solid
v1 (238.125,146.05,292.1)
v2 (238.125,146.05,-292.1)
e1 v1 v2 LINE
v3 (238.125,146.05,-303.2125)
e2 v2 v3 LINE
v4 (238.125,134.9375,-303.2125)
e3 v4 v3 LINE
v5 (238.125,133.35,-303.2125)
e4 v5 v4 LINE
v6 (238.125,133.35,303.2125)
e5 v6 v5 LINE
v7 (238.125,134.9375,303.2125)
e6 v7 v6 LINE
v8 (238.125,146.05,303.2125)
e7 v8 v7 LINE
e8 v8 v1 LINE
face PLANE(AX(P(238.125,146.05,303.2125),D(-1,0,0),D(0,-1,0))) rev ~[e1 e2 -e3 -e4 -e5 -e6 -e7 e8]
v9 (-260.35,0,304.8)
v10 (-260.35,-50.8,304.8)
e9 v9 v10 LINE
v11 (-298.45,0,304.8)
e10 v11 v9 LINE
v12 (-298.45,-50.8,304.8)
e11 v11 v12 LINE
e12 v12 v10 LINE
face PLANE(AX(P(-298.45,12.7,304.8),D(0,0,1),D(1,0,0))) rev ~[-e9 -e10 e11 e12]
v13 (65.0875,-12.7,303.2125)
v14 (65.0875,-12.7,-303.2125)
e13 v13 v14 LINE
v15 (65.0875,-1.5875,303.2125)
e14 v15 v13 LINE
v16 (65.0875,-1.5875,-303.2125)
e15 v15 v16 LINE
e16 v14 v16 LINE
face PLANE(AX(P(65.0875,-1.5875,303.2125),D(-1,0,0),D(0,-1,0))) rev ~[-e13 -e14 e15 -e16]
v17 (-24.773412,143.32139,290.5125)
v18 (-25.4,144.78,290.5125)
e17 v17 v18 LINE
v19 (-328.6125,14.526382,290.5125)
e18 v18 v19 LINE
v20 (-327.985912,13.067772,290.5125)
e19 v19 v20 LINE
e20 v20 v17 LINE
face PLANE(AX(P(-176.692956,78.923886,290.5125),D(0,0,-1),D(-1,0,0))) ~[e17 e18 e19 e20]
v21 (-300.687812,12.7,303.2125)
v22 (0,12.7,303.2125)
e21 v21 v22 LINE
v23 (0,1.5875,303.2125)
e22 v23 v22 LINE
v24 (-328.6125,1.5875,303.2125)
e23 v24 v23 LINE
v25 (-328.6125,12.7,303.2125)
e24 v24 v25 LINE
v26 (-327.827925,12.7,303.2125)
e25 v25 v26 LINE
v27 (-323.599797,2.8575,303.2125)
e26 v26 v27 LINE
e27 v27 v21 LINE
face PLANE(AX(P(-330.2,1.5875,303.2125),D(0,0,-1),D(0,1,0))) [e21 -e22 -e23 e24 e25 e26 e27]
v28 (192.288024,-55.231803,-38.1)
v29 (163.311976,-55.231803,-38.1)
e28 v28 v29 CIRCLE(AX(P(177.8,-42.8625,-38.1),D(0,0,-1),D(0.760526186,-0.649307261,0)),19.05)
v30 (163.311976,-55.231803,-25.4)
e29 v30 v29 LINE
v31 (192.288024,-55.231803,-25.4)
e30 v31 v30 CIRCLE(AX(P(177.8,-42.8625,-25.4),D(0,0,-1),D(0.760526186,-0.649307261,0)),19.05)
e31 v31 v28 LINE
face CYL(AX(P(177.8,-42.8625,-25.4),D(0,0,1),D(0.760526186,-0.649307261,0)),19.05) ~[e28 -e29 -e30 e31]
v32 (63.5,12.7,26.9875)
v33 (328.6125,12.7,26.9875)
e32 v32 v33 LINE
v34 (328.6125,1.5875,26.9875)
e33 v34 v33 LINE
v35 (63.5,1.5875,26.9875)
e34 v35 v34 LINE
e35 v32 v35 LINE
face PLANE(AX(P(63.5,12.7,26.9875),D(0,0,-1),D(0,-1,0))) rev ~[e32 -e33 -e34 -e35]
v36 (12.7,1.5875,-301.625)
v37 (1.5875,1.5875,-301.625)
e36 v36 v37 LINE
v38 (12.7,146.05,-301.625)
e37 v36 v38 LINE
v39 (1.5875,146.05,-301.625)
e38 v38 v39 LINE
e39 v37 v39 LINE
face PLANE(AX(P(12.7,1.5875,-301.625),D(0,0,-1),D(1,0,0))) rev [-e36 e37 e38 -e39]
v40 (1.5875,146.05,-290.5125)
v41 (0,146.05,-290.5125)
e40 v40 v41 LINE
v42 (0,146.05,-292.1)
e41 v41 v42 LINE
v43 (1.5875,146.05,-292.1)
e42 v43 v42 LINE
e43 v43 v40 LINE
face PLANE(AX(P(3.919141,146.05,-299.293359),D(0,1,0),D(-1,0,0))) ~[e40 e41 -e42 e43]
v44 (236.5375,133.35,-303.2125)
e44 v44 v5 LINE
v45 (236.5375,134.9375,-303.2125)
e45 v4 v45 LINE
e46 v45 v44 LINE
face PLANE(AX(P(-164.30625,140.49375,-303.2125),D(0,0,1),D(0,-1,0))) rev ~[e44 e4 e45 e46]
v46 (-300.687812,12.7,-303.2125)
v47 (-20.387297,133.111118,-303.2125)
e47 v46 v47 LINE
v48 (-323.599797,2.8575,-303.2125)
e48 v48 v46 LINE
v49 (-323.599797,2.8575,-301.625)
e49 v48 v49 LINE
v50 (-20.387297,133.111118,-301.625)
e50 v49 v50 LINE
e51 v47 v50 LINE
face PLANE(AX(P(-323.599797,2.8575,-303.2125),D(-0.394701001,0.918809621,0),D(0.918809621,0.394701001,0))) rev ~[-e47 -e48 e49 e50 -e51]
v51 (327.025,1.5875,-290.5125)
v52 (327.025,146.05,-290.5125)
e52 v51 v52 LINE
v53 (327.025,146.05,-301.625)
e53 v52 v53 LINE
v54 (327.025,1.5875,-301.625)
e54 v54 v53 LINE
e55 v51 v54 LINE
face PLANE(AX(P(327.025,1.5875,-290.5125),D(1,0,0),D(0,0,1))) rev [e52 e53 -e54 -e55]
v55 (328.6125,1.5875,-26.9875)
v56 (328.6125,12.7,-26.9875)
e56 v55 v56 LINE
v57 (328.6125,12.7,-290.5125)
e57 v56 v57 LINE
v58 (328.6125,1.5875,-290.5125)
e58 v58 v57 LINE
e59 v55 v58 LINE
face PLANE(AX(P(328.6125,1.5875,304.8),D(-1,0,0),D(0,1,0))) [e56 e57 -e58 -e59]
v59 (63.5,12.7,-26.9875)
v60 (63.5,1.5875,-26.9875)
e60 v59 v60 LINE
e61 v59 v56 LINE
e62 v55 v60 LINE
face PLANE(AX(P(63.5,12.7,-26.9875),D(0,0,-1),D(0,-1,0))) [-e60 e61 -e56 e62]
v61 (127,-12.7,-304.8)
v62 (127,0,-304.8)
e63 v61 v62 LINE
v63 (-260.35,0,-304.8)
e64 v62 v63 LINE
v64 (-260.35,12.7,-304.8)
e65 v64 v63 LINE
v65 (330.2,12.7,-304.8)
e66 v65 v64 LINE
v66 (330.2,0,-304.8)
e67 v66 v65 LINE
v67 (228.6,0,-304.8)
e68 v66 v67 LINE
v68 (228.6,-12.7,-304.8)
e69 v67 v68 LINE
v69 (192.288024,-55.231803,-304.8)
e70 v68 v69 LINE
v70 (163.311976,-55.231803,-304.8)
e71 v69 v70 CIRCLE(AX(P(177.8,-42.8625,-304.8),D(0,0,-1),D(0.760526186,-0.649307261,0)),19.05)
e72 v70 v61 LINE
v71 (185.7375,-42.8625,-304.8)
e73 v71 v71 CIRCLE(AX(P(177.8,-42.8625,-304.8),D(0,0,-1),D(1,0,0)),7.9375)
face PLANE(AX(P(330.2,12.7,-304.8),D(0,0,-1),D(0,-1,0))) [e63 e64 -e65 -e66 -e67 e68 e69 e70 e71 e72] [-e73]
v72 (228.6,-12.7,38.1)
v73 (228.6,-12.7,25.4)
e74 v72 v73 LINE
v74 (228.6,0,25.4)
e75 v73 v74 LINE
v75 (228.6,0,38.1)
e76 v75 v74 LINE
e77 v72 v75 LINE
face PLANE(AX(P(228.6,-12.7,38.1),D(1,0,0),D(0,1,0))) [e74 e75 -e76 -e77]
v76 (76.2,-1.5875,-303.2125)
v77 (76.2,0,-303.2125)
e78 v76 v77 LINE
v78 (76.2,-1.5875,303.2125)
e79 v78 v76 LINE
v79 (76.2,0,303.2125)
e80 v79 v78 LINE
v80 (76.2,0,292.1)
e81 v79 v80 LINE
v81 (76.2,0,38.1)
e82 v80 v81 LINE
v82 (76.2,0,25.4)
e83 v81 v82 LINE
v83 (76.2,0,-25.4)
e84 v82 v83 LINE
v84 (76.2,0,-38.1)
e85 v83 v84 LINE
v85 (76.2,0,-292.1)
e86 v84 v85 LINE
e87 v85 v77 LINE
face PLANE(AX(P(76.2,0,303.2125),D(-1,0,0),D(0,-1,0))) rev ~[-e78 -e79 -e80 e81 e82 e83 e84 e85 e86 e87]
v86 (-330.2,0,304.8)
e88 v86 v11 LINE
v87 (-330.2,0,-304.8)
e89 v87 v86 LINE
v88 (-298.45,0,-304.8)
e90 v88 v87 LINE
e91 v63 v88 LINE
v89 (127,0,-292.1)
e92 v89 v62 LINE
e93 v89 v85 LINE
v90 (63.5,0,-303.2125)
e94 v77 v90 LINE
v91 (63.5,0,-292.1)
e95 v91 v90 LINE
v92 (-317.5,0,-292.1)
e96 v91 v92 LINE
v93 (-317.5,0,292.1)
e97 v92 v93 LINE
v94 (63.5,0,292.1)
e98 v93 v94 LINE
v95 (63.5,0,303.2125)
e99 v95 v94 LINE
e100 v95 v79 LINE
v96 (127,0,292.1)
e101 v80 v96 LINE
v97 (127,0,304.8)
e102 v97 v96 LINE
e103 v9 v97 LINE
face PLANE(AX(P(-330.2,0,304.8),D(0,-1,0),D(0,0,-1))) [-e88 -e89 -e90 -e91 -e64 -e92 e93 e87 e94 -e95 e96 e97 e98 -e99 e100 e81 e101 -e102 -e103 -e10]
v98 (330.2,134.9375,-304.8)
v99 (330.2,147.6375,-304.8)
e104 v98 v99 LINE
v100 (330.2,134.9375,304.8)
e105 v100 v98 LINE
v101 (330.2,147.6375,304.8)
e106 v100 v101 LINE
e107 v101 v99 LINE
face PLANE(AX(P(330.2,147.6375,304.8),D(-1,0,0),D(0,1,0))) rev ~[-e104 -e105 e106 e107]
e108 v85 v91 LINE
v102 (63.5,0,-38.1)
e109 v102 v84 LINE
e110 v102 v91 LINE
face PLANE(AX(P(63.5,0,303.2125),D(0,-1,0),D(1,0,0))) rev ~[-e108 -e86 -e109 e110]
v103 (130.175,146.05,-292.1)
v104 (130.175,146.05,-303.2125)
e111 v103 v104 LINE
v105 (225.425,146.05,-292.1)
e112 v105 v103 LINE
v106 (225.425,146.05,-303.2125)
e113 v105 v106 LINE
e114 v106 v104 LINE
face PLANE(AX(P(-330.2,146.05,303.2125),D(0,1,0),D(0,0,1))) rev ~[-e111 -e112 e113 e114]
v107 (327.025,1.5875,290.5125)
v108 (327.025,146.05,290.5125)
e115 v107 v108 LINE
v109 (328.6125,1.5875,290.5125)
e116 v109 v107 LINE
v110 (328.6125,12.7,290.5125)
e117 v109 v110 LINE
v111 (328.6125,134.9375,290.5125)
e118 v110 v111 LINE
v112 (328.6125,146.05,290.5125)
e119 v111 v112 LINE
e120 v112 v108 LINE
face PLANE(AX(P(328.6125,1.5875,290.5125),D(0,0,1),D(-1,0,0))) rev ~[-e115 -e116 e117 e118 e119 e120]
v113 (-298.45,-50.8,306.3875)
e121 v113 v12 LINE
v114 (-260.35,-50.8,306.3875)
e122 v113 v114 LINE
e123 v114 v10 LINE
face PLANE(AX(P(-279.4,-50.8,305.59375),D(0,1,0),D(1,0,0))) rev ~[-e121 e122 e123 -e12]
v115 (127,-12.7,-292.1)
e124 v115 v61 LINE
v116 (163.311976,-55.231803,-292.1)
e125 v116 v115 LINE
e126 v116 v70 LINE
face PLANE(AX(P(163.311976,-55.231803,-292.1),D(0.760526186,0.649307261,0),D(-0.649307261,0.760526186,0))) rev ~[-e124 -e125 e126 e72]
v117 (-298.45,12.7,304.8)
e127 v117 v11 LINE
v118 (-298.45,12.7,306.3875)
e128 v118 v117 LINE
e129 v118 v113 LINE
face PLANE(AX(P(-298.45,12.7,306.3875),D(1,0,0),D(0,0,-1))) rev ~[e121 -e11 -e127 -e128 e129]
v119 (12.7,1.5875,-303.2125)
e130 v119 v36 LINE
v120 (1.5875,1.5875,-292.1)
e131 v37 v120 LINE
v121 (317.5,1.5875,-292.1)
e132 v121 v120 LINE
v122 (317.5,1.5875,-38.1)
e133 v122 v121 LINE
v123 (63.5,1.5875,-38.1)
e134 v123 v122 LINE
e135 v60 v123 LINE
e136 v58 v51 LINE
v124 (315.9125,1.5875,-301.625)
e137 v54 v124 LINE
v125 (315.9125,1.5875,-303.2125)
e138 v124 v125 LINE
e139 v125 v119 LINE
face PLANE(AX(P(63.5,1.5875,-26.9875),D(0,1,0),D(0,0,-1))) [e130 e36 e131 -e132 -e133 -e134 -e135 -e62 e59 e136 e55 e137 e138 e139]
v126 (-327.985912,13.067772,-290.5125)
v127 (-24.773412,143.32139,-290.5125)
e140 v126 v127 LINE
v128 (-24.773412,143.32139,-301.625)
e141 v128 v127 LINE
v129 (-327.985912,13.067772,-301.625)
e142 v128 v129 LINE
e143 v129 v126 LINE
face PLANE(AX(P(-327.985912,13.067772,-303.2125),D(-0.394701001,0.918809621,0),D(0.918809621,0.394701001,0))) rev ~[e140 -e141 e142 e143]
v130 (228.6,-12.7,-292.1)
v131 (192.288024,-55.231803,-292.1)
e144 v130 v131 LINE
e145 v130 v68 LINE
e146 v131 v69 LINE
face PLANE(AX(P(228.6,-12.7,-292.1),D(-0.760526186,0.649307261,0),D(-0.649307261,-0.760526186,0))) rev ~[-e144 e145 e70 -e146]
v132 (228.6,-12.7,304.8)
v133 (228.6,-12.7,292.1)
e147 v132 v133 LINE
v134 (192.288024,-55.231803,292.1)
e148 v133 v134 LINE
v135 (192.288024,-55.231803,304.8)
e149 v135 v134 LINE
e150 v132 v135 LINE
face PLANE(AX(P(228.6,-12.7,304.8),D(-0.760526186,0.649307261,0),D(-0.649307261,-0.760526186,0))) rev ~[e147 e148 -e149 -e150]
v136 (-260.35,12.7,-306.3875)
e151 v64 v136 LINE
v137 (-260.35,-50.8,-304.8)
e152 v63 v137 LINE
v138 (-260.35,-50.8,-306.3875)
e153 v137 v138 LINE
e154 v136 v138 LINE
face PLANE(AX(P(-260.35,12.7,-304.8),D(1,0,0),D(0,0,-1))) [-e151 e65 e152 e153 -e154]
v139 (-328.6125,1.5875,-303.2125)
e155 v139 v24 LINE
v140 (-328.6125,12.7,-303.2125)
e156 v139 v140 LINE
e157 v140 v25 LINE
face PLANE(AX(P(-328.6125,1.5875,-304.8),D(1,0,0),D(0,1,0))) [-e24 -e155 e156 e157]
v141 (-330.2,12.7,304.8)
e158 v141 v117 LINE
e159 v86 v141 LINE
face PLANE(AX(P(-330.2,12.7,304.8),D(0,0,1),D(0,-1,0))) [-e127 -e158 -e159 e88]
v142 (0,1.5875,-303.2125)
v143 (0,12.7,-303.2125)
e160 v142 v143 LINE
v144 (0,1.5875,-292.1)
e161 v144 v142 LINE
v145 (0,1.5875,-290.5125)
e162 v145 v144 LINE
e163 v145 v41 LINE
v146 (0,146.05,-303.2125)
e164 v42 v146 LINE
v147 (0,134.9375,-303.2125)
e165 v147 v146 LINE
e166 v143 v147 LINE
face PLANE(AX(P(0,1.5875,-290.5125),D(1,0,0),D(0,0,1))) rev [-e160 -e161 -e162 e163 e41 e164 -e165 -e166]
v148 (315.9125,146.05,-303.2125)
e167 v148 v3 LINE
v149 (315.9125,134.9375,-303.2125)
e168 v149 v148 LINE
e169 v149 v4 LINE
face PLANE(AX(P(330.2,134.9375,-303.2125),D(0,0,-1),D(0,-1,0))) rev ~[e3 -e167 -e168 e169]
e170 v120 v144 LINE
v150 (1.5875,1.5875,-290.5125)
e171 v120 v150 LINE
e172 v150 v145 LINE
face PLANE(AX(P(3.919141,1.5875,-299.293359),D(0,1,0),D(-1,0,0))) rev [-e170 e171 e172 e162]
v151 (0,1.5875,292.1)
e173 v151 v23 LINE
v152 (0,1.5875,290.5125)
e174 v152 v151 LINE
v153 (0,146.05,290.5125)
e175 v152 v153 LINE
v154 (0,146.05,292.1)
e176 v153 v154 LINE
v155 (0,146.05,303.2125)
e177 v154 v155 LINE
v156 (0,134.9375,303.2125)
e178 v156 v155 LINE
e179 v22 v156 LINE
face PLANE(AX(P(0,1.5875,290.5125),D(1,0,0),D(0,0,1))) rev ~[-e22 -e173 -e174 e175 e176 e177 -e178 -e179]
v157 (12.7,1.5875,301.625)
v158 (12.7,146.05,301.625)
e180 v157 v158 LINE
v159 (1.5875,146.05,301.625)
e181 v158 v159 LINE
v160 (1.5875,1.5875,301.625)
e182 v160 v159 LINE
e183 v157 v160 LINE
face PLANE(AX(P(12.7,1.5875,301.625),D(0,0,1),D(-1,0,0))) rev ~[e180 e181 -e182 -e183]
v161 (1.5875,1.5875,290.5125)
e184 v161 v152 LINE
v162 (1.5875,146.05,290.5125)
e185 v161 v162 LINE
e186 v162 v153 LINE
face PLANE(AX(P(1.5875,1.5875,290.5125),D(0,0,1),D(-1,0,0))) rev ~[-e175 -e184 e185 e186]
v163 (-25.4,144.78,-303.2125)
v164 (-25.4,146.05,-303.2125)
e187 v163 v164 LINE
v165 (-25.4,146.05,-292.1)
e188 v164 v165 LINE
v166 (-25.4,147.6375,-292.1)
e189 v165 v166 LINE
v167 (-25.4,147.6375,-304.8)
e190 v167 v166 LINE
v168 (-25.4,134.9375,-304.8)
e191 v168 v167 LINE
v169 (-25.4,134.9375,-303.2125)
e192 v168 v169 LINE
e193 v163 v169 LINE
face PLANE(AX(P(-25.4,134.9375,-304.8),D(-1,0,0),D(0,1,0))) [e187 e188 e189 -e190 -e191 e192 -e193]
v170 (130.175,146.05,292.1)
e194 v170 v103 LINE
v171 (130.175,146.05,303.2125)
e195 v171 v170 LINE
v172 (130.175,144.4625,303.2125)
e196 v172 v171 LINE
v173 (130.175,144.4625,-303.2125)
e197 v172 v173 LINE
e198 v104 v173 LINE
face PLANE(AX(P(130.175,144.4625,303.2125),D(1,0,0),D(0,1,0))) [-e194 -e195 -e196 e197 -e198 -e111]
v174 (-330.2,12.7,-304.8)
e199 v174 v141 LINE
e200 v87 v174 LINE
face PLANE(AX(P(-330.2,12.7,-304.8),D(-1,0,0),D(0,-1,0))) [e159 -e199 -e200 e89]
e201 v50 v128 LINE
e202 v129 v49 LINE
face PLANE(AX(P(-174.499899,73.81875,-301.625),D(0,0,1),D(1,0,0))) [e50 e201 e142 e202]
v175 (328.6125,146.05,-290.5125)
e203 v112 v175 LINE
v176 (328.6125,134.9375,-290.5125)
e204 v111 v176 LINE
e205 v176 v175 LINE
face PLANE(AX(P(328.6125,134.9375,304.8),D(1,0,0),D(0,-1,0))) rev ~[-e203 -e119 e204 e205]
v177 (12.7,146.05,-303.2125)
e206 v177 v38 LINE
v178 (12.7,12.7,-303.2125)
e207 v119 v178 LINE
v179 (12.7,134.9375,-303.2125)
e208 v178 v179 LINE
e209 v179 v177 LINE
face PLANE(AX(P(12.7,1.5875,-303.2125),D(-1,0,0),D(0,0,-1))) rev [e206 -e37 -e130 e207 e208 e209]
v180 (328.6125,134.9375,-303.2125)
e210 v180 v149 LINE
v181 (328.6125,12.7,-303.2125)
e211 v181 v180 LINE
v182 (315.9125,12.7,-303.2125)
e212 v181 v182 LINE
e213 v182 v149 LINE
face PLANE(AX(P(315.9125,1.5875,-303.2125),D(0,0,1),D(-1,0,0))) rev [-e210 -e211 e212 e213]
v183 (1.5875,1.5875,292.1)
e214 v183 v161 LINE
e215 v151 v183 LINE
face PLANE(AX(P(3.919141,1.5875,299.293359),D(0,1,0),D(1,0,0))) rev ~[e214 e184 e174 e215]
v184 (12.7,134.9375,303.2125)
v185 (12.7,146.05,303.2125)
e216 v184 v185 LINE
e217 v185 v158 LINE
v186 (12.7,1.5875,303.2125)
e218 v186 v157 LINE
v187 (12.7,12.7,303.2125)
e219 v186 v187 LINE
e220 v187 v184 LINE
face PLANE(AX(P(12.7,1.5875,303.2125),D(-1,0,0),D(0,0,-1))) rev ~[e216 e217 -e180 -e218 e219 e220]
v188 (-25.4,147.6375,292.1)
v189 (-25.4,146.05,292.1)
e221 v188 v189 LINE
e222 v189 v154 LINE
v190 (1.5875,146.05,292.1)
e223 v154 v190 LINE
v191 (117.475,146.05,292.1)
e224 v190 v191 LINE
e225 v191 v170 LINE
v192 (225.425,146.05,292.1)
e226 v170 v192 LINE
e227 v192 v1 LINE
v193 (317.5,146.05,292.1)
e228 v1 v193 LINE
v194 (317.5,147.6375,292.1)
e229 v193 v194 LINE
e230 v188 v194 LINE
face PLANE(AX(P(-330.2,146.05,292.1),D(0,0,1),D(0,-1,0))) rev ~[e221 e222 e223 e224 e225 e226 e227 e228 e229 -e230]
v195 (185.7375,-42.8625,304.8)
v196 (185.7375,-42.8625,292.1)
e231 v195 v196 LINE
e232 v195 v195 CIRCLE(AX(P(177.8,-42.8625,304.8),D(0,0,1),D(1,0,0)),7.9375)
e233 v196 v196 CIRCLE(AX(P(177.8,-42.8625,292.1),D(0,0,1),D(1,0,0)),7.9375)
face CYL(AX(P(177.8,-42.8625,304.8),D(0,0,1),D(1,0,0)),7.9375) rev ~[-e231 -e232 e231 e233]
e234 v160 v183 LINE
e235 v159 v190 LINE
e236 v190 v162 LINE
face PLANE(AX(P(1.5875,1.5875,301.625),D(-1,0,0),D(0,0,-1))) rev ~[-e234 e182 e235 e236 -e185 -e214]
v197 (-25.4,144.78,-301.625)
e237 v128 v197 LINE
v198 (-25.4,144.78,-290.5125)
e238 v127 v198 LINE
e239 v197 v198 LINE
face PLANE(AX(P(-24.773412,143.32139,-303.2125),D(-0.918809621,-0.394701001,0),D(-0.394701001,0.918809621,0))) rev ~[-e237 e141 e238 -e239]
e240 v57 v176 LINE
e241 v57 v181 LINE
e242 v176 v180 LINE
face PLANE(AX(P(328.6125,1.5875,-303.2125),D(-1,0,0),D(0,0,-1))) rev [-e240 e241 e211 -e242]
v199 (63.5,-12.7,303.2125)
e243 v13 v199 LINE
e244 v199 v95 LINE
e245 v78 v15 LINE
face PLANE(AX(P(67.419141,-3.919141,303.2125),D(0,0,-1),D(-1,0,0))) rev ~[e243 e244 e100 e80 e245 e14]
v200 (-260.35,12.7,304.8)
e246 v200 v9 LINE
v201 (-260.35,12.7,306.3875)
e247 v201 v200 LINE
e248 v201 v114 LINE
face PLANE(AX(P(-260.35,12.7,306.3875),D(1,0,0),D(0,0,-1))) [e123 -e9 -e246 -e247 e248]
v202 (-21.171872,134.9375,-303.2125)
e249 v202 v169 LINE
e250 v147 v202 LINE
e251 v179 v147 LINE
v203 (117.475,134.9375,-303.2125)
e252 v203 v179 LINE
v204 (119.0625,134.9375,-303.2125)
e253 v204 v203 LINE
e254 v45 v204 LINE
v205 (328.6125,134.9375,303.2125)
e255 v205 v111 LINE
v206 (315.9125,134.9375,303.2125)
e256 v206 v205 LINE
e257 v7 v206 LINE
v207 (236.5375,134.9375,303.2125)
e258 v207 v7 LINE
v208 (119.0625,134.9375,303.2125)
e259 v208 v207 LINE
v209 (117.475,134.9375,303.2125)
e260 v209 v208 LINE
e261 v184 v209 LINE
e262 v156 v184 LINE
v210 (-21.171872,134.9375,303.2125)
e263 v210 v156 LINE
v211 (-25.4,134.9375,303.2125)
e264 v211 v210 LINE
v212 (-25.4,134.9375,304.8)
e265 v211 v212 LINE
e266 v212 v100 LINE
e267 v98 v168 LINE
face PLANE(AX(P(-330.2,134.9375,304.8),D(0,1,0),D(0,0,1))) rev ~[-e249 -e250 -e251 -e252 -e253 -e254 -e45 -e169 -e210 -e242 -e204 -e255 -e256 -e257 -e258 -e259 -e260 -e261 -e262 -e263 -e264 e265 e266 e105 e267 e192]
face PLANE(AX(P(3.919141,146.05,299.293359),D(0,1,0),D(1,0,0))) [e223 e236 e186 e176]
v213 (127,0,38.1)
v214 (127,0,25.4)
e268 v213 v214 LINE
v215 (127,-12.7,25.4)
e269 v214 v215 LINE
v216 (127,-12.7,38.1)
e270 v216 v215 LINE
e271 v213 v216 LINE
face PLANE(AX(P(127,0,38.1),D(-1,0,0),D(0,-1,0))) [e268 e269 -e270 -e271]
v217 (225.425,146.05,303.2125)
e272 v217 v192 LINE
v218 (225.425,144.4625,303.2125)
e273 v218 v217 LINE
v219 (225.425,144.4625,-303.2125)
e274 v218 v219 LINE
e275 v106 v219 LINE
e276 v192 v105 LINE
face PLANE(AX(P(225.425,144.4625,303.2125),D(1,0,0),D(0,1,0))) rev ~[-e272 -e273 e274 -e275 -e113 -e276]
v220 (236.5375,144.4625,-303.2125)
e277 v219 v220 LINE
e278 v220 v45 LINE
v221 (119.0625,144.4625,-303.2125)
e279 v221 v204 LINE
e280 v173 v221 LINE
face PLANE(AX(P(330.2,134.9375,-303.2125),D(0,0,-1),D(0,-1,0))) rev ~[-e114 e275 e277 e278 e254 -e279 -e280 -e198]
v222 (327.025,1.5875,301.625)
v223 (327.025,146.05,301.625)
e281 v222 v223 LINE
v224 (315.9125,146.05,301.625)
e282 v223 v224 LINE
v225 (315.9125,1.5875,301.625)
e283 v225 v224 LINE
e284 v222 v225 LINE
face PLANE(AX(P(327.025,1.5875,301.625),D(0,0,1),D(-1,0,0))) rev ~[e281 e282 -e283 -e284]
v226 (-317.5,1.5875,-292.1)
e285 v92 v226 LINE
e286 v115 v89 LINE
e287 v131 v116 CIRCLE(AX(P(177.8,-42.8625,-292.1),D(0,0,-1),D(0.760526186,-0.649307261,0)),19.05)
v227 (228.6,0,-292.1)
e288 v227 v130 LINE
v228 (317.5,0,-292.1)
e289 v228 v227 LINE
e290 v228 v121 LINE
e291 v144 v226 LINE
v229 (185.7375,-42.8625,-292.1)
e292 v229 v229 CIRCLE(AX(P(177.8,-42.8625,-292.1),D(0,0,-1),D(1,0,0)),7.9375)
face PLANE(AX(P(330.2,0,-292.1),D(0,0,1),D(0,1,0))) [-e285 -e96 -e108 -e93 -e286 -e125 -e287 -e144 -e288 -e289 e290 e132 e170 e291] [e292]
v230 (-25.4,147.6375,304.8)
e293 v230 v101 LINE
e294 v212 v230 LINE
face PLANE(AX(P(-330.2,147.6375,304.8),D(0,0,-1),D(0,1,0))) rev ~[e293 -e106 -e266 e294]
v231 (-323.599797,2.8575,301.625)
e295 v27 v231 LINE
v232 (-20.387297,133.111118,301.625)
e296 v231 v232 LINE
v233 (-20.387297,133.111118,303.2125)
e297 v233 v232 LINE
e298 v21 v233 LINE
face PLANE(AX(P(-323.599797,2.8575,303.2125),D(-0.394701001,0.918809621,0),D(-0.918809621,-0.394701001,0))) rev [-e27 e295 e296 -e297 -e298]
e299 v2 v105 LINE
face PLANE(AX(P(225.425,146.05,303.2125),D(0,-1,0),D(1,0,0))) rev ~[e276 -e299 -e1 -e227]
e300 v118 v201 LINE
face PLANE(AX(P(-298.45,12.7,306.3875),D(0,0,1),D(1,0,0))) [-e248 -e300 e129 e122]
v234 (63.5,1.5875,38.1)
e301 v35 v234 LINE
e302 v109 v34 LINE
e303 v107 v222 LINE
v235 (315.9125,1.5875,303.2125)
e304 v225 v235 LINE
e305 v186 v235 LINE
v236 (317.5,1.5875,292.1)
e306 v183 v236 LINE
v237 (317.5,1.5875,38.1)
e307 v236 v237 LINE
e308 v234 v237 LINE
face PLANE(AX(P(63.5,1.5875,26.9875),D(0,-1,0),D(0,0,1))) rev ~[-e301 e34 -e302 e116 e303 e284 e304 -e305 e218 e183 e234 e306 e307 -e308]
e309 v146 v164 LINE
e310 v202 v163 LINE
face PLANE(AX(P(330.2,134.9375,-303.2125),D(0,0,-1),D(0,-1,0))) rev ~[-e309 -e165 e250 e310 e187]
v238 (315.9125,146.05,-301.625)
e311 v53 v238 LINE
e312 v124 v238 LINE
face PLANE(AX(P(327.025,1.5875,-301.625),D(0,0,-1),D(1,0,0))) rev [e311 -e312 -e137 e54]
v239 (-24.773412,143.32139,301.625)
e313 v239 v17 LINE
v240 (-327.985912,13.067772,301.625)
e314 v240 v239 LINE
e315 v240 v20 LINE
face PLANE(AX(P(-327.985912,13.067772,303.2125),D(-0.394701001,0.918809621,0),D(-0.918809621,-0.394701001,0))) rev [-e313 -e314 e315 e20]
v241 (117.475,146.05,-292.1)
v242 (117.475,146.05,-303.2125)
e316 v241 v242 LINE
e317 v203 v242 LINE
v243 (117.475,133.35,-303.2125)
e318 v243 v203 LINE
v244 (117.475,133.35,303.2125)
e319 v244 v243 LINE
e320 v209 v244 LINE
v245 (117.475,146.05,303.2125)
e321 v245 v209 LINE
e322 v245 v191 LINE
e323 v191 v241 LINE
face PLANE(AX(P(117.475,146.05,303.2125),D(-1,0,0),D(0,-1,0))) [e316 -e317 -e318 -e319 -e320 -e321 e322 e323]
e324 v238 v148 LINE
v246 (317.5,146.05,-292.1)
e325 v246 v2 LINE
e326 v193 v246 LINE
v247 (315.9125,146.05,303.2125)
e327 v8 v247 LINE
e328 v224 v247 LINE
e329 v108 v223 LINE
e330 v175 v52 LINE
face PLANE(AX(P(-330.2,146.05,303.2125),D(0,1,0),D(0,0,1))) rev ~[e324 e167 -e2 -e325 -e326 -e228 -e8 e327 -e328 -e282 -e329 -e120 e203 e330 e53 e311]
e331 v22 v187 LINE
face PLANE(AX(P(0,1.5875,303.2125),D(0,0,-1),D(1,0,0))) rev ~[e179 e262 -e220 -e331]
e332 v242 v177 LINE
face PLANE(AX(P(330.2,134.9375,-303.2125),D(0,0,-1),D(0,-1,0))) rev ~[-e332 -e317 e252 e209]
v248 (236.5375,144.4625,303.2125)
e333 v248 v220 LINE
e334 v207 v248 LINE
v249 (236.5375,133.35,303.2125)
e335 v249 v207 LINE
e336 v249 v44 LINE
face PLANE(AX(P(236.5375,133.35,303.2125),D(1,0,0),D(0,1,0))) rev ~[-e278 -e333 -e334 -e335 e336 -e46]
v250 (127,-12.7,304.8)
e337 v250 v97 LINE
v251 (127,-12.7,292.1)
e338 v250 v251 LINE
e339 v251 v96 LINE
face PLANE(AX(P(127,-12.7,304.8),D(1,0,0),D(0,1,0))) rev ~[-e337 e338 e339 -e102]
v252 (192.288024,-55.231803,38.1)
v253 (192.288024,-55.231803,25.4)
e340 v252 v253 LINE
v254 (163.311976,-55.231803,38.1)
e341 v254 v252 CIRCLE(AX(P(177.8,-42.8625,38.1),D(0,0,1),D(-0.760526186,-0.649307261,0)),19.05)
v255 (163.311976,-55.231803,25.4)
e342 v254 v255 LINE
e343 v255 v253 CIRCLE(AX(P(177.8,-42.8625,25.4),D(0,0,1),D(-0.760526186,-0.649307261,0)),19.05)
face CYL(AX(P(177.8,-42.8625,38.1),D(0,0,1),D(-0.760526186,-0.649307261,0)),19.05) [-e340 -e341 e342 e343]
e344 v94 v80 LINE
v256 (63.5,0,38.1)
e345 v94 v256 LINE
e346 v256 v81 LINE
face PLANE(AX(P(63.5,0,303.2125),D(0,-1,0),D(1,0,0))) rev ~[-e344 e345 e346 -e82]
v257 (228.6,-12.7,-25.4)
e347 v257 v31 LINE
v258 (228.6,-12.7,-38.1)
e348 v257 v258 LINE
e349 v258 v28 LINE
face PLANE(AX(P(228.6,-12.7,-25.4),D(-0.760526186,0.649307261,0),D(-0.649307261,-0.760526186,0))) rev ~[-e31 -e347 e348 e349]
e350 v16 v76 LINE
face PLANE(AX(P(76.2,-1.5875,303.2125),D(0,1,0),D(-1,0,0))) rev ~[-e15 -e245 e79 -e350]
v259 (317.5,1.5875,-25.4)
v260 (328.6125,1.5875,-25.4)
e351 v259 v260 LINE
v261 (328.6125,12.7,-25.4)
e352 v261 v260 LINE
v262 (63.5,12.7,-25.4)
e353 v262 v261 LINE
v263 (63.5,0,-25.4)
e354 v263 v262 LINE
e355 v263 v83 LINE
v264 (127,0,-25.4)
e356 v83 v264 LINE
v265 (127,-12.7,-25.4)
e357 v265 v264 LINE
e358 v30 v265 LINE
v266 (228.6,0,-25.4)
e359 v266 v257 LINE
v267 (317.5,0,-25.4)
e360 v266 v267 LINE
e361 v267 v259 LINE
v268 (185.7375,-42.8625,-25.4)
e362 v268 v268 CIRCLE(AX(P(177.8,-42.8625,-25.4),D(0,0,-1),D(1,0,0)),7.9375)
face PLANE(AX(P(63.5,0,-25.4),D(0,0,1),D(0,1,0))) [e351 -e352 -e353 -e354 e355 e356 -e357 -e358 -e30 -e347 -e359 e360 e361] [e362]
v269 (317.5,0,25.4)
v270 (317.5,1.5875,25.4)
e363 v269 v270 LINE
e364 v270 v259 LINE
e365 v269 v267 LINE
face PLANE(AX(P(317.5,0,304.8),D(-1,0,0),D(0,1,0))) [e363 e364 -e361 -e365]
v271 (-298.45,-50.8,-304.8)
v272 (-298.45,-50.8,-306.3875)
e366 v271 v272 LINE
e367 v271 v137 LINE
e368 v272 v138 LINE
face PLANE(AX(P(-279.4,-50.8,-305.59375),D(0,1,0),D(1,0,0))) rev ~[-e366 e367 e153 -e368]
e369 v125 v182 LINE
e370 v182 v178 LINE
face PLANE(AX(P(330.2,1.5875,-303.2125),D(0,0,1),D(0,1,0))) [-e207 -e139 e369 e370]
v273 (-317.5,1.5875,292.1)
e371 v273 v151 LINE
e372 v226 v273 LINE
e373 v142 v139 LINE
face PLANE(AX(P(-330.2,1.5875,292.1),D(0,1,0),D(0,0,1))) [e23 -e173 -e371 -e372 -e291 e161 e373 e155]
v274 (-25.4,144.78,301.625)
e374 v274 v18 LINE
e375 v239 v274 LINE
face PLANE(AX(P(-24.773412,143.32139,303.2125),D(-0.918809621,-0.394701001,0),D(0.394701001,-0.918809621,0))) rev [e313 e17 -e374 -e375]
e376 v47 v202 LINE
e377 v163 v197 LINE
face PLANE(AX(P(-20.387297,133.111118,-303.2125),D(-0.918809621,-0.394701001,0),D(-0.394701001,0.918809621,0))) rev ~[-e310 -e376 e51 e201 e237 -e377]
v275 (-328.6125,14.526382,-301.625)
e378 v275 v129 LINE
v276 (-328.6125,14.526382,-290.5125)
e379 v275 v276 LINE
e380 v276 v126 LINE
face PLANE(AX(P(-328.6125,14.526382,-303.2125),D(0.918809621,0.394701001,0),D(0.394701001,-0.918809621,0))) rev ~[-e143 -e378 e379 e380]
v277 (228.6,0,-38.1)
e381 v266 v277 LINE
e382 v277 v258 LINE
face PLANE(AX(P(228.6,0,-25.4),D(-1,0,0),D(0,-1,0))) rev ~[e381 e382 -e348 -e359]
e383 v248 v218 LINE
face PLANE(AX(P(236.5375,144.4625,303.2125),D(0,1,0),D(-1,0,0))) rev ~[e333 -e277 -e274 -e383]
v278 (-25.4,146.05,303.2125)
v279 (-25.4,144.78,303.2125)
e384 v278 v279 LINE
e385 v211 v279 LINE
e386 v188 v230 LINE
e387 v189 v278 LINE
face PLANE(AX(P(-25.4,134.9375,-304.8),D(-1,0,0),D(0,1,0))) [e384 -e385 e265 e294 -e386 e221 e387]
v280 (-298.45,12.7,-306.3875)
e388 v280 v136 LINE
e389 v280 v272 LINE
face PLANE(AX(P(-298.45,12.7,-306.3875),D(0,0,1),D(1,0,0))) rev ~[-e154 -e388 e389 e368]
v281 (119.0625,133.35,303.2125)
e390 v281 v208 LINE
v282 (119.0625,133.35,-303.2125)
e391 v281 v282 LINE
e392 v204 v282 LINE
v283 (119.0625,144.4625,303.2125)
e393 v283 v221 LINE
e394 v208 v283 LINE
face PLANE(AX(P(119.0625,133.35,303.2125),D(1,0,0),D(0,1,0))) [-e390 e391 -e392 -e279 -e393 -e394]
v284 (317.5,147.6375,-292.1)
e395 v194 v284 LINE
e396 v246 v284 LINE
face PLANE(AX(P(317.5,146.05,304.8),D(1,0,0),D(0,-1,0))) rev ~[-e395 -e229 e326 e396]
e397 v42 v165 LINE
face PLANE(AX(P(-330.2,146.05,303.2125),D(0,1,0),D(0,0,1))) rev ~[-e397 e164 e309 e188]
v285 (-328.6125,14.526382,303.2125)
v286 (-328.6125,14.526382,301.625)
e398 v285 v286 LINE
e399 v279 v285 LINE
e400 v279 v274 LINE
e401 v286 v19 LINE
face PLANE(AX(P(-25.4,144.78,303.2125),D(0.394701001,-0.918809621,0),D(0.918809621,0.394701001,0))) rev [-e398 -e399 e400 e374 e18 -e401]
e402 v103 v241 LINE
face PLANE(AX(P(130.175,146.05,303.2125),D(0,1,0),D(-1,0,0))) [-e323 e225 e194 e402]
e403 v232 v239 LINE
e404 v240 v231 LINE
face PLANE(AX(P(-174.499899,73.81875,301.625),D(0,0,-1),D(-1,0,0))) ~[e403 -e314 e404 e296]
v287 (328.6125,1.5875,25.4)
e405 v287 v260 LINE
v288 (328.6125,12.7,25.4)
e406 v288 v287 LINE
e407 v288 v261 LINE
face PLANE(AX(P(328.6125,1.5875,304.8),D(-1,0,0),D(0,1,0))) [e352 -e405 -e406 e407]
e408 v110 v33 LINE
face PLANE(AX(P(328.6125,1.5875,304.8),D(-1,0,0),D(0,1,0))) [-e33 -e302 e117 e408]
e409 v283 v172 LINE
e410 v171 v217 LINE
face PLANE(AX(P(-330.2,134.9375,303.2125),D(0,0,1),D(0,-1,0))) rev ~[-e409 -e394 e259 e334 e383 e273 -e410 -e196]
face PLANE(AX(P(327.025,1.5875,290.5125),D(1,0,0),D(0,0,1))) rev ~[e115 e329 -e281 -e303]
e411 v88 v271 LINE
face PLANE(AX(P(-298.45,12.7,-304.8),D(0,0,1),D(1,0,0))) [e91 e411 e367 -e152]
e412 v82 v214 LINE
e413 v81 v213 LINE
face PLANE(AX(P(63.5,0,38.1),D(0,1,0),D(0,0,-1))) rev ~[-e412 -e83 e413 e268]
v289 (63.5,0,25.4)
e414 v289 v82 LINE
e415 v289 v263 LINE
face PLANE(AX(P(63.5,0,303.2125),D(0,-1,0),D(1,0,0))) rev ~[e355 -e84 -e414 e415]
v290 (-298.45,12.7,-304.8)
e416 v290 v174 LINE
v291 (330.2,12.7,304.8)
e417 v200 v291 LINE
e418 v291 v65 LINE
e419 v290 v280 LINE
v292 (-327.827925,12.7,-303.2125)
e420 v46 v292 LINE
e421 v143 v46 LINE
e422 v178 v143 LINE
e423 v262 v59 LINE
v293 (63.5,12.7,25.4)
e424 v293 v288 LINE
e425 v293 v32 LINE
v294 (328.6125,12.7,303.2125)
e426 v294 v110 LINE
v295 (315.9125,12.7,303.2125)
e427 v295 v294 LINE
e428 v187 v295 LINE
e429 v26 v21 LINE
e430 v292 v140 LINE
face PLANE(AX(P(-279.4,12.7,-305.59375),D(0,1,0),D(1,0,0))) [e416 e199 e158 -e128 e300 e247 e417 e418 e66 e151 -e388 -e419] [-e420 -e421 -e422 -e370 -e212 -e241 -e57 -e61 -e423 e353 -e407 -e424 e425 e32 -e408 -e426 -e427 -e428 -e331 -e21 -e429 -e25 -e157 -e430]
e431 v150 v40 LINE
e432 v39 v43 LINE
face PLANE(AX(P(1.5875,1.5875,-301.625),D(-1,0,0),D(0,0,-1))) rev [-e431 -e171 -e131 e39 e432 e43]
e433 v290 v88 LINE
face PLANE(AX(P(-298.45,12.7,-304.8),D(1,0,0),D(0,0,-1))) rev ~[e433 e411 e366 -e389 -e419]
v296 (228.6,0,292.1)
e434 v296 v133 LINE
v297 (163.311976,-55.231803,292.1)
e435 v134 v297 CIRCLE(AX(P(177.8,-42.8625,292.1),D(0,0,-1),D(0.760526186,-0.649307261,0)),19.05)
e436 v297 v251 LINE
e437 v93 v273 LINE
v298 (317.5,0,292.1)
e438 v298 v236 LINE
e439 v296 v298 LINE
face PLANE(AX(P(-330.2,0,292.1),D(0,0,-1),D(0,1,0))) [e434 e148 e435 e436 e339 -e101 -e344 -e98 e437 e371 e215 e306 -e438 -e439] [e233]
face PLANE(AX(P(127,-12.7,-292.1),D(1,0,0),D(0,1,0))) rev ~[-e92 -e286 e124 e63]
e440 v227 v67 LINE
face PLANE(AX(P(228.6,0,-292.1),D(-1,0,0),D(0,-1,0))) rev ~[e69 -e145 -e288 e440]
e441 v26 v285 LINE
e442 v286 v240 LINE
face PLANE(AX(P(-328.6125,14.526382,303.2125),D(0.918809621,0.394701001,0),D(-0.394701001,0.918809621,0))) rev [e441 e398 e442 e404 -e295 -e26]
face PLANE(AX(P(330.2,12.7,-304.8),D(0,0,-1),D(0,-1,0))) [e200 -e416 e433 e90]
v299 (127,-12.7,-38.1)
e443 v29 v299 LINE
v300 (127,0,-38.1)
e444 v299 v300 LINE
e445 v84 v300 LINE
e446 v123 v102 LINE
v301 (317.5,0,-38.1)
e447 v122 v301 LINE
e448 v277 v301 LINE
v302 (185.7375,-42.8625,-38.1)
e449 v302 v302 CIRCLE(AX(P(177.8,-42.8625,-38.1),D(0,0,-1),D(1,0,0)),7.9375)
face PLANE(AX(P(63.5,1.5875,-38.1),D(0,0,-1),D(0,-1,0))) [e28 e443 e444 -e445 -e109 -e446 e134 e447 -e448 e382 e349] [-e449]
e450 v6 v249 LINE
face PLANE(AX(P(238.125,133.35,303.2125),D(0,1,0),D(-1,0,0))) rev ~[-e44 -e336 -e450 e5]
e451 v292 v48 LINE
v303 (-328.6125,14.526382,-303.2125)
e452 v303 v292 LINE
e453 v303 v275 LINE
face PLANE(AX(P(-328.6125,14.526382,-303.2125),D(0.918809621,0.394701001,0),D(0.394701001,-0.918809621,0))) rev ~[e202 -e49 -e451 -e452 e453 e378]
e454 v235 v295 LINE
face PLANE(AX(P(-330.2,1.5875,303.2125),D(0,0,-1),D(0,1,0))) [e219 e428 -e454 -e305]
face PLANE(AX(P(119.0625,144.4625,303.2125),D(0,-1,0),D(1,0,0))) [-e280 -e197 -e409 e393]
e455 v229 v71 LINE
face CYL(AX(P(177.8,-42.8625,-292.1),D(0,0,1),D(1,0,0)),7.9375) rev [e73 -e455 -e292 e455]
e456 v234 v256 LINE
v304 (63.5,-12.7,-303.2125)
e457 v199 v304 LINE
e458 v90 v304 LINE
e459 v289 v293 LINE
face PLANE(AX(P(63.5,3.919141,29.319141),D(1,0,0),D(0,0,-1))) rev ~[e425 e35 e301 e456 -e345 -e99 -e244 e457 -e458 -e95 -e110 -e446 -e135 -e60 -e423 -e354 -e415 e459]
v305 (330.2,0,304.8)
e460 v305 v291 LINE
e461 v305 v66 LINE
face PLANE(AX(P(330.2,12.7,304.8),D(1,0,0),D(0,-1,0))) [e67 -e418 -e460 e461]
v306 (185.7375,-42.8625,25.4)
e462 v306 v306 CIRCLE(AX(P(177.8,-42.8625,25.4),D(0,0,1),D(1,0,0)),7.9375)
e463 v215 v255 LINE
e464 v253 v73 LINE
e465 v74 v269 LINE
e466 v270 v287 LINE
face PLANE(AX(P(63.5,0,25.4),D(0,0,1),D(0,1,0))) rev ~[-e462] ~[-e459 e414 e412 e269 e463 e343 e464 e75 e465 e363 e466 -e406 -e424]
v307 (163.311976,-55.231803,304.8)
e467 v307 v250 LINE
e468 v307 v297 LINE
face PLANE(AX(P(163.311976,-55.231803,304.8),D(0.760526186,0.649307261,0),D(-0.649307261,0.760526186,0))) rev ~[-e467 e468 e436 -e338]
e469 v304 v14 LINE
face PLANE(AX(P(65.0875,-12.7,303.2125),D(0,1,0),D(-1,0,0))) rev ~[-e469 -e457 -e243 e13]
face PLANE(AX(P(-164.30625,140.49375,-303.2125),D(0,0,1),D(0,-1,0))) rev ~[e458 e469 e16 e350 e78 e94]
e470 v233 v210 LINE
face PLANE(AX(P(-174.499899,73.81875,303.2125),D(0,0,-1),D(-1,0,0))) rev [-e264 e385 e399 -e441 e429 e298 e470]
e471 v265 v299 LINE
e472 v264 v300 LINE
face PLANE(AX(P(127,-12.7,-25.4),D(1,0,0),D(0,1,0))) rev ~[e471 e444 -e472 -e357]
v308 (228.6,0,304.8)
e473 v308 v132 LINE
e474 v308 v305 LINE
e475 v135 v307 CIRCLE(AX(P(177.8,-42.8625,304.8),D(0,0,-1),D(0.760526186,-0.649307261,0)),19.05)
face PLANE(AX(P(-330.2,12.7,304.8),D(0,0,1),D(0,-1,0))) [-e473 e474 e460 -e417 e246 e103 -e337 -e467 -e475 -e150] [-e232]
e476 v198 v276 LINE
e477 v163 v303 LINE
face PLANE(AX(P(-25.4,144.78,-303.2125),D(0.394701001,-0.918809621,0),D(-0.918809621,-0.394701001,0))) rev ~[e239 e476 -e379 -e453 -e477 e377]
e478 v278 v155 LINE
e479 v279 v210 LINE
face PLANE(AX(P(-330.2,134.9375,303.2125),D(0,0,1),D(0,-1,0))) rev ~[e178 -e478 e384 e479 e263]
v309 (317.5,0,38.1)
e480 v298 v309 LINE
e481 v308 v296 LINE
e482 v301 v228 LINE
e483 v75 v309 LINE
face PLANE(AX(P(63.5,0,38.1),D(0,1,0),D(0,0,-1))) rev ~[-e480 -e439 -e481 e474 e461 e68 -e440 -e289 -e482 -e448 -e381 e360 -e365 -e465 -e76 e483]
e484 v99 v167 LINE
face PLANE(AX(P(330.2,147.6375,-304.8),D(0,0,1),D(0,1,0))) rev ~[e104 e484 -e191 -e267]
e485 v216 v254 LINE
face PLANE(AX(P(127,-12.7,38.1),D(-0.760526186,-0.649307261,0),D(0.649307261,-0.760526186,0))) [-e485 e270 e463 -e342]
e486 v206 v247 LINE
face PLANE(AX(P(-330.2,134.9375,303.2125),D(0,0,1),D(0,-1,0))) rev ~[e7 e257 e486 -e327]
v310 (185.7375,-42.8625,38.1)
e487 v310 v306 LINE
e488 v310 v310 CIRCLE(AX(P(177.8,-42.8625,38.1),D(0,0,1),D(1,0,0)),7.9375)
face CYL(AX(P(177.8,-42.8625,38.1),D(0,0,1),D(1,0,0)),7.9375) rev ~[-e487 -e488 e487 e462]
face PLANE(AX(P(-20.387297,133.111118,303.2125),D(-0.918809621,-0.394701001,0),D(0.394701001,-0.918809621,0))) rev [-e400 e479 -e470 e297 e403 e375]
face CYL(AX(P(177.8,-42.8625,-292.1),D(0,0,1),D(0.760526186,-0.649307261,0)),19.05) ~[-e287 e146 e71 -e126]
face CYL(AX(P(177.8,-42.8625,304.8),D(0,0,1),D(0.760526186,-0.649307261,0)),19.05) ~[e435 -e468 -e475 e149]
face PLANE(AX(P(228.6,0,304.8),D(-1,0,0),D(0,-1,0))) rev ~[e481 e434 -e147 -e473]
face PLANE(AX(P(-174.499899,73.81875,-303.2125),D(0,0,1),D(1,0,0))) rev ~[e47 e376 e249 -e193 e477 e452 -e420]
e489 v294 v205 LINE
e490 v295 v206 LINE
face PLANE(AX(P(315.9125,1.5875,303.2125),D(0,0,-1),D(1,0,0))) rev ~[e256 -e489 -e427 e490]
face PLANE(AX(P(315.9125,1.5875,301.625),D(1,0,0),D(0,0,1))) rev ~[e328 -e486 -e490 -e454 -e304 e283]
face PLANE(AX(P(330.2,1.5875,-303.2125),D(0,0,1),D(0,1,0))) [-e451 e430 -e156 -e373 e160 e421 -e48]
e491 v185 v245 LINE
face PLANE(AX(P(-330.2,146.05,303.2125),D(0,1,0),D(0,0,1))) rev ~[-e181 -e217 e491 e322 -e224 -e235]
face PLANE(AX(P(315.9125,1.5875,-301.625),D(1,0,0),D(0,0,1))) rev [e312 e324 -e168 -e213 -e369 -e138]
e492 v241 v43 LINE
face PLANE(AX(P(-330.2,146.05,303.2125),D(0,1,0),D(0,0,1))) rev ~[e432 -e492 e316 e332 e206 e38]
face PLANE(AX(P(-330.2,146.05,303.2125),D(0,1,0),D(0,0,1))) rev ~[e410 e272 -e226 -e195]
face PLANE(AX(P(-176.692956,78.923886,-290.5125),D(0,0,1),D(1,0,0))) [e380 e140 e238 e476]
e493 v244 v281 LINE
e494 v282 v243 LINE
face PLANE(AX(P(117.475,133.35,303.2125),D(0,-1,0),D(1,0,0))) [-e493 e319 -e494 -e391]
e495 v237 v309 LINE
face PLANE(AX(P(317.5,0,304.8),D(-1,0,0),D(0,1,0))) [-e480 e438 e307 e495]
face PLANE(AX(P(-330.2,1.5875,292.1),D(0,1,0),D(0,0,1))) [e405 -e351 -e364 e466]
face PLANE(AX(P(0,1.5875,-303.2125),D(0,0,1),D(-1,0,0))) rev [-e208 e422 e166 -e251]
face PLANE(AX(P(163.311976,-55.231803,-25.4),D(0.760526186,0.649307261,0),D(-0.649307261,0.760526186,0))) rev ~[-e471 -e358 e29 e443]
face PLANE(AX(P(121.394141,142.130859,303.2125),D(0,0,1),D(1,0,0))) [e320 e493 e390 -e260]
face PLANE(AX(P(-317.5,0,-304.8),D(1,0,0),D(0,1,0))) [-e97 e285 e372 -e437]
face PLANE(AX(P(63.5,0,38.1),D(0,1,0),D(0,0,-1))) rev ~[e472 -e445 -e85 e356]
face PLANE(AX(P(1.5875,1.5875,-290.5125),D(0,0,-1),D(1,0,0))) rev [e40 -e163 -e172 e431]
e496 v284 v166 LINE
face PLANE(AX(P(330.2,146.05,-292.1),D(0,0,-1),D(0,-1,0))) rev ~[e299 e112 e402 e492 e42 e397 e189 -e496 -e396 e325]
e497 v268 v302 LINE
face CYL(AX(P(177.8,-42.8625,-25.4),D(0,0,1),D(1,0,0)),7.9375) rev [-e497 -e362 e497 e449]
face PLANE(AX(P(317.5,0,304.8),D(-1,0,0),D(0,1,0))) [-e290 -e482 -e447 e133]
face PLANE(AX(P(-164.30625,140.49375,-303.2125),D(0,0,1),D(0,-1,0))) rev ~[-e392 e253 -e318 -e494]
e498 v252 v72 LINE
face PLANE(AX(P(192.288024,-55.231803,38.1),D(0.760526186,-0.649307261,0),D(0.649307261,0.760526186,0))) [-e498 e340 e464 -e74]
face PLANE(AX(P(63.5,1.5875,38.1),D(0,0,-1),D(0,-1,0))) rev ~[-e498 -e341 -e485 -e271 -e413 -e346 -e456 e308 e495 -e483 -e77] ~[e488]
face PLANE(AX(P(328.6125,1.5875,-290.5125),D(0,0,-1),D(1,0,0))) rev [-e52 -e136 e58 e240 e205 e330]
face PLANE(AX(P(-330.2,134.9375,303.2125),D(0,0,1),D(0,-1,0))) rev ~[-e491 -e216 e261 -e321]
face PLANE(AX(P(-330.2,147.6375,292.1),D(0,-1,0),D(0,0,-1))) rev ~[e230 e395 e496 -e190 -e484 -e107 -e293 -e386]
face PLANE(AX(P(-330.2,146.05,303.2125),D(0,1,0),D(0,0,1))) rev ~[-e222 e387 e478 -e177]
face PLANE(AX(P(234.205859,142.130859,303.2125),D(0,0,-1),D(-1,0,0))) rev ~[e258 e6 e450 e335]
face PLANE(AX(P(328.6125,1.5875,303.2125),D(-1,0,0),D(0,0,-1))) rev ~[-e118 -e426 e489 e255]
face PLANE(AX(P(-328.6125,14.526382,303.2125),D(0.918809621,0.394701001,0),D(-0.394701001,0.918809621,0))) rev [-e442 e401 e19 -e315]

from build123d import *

# Parameters (mm, degrees)
BOSS_EXTRUDE4_DEPTH  = 144.4625
BOSS_EXTRUDE5_REACH  = 709.466
BOSS_EXTRUDE6_START  = 304.8
SKETCH8_R            = 7.9375
BOSS_EXTRUDE6_DEPTH  = 12.7
BOSS_EXTRUDE11_START = -12.7
SKETCH11_R           = 7.9375
BOSS_EXTRUDE11_DEPTH = 12.7
BOSS_EXTRUDE12_REACH = 521.326
BOSS_EXTRUDE15_START = -12.7
SKETCH13_R           = 7.9375
BOSS_EXTRUDE15_DEPTH = 12.7
SKETCH14_R           = 7.9375
BOSS_EXTRUDE16_DEPTH = 12.7
SKETCH15_W           = 38.1
SKETCH15_H           = 1.5875
BOSS_EXTRUDE17_DEPTH = 63.5
CUT_EXTRUDE1_REACH   = 712.196
SKETCH18_W           = 304.8
SKETCH18_H           = 12.7
BOSS_EXTRUDE21_DEPTH = 1.5875
BOSS_EXTRUDE23_DEPTH = 12.7


with BuildPart() as part:
    # Sweep1: sweep along a path in Sketch1
    with BuildLine(Plane(origin=(0, 0, 0), x_dir=(1, 0, 0), z_dir=(0, 1, 0))) as sweep1_path:
        Line((-330.2, -304.8), (330.2, -304.8))
        Line((330.2, -304.8), (330.2, 304.8))
        Line((330.2, 304.8), (-330.2, 304.8))
        Line((-330.2, 304.8), (-330.2, -304.8))
    # Sketch2 → Sweep1 (sweep)
    with BuildSketch(Plane(origin=(0, 0, 0), x_dir=(0, 0, -1), z_dir=(1, 0, 0))):
        Polygon((-304.8, 0), (-292.1, 0), (-292.1, 1.5875), (-303.2125, 1.5875), (-303.2125, 12.7), (-304.8, 12.7), align=None)
    sweep(path=sweep1_path.line, transition=Transition.RIGHT)



with BuildPart() as body_2:
    # Sweep2: sweep along a path in Sketch4
    with BuildLine(Plane(origin=(0, 147.6375, 0), x_dir=(1, 0, 0), z_dir=(0, 1, 0))) as sweep2_path:
        Line((-330.2, -304.8), (330.2, -304.8))
        Line((330.2, -304.8), (330.2, 304.8))
        Line((330.2, 304.8), (-330.2, 304.8))
        Line((-330.2, 304.8), (-330.2, -304.8))
    # Sketch5 → Sweep2 (sweep)
    with BuildSketch(Plane(origin=(0, 0, 0), x_dir=(0, 0, -1), z_dir=(1, 0, 0))):
        Polygon((304.8, 147.6375), (304.8, 134.9375), (303.2125, 134.9375), (303.2125, 146.05), (292.1, 146.05), (292.1, 147.6375), align=None)
    sweep(path=sweep2_path.line, transition=Transition.RIGHT)


with BuildPart() as part_1:
    add(part.part)

    add(body_2.part)  # Boss-Extrude4 merges body 2
    # Sketch6 → Boss-Extrude4 (add)
    with BuildSketch(Plane(origin=(0, 1.5875, 0), x_dir=(1, 0, 0), z_dir=(0, 1, 0))):
        Polygon((315.9125, -303.2125), (328.6125, -303.2125), (328.6125, -290.5125), (327.025, -290.5125), (327.025, -301.625), (315.9125, -301.625), align=None)
        Polygon((12.7, -303.2125), (12.7, -301.625), (1.5875, -301.625), (1.5875, -290.5125), (0, -290.5125), (0, -303.2125), align=None)
    boss_extrude4 = extrude(amount=BOSS_EXTRUDE4_DEPTH)

    # Mirror1: Boss-Extrude4 across plane
    add(boss_extrude4.mirror(Plane.XY))

    # Boss-Extrude5: up to this face of the body (flat: up to its plane)
    boss_extrude5_end = Plane(part_1.part.faces().sort_by_distance((-164.30625, 140.49375, -303.2125))[0])
    # Sketch7 → Boss-Extrude5 (add, up to the picked face)
    with BuildSketch(Plane(origin=(0, 0, 303.2125), x_dir=(-1, 0, 0), z_dir=(0, 0, -1)), mode=Mode.PRIVATE) as boss_extrude5_sk1:
        Polygon((-238.125, 146.05), (-238.125, 133.35), (-236.5375, 133.35), (-236.5375, 144.4625), (-225.425, 144.4625), (-225.425, 146.05), align=None)
    boss_extrude5_tool1 = split(extrude(boss_extrude5_sk1.sketch, amount=BOSS_EXTRUDE5_REACH, mode=Mode.PRIVATE), bisect_by=boss_extrude5_end, keep=Keep.BOTH, mode=Mode.PRIVATE)
    # Sketch7 → Boss-Extrude5 (add, up to the picked face)
    with BuildSketch(Plane(origin=(0, 0, 303.2125), x_dir=(-1, 0, 0), z_dir=(0, 0, -1)), mode=Mode.PRIVATE) as boss_extrude5_sk2:
        Polygon((-130.175, 146.05), (-117.475, 146.05), (-117.475, 133.35), (-119.0625, 133.35), (-119.0625, 144.4625), (-130.175, 144.4625), align=None)
    boss_extrude5_tool2 = split(extrude(boss_extrude5_sk2.sketch, amount=BOSS_EXTRUDE5_REACH, mode=Mode.PRIVATE), bisect_by=boss_extrude5_end, keep=Keep.BOTH, mode=Mode.PRIVATE)
    # Sketch7 → Boss-Extrude5 (add, up to the picked face)
    with BuildSketch(Plane(origin=(0, 0, 303.2125), x_dir=(-1, 0, 0), z_dir=(0, 0, -1)), mode=Mode.PRIVATE) as boss_extrude5_sk3:
        Polygon((-76.2, 0), (-76.2, -1.5875), (-65.0875, -1.5875), (-65.0875, -12.7), (-63.5, -12.7), (-63.5, 0), align=None)
    boss_extrude5_tool3 = split(extrude(boss_extrude5_sk3.sketch, amount=BOSS_EXTRUDE5_REACH, mode=Mode.PRIVATE), bisect_by=boss_extrude5_end, keep=Keep.BOTH, mode=Mode.PRIVATE)
    add(boss_extrude5_tool1.solids().sort_by(Axis((237.945395, 139.7, 303.2125), (0, 0, -1)))[0])
    add(boss_extrude5_tool2.solids().sort_by(Axis((123.825, 145.870395, 303.2125), (0, 0, -1)))[0])
    add(boss_extrude5_tool3.solids().sort_by(Axis((76.020395, -0.79375, 303.2125), (0, 0, -1)))[0])

    # Sketch8 → Boss-Extrude6 (add)
    with BuildSketch(Plane.XY.offset(BOSS_EXTRUDE6_START)):
        with BuildLine():
            Line((127, -12.7), (127, 0))
            Line((127, 0), (228.6, 0))
            Line((228.6, 0), (228.6, -12.7))
            Line((228.6, -12.7), (192.288023852, -55.23180333))
            ThreePointArc((192.288023852, -55.23180333), (177.8, -61.9125), (163.311976148, -55.23180333))
            Line((163.311976148, -55.23180333), (127, -12.7))
        make_face()
        with Locations((177.8, -42.8625)):
            Circle(SKETCH8_R, mode=Mode.SUBTRACT)
    extrude(amount=-BOSS_EXTRUDE6_DEPTH)

    # Sketch11 → Boss-Extrude11 (add)
    with BuildSketch(Plane(origin=(0, 0, -304.8), x_dir=(-1, 0, 0), z_dir=(0, 0, -1)).offset(BOSS_EXTRUDE11_START)):
        with BuildLine():
            Line((-127, -12.7), (-127, 0))
            Line((-127, 0), (-228.6, 0))
            Line((-228.6, 0), (-228.6, -12.7))
            Line((-228.6, -12.7), (-192.288023852, -55.23180333))
            ThreePointArc((-192.288023852, -55.23180333), (-177.8, -61.9125), (-163.311976148, -55.23180333))
            Line((-163.311976148, -55.23180333), (-127, -12.7))
        make_face()
        with Locations(Location((-177.8, -42.8625, 0), (0, 0, 180))):
            Circle(SKETCH11_R, mode=Mode.SUBTRACT)
    extrude(amount=BOSS_EXTRUDE11_DEPTH)

    # Boss-Extrude12: up to this face of the body (flat: up to its plane)
    boss_extrude12_end = Plane(part_1.part.faces().sort_by_distance((328.6125, 7.14375, 0))[0])
    # Sketch12 → Boss-Extrude12 (add, up to the picked face)
    with BuildSketch(Plane.ZY.offset(-63.5), mode=Mode.PRIVATE) as boss_extrude12_sk1:
        Polygon((-25.4, 0), (-25.4, 12.7), (-26.9875, 12.7), (-26.9875, 1.5875), (-38.1, 1.5875), (-38.1, 0), align=None)
    boss_extrude12_tool1 = split(extrude(boss_extrude12_sk1.sketch, amount=-BOSS_EXTRUDE12_REACH, mode=Mode.PRIVATE), bisect_by=boss_extrude12_end, keep=Keep.BOTH, mode=Mode.PRIVATE)
    # Sketch12 → Boss-Extrude12 (add, up to the picked face)
    with BuildSketch(Plane.ZY.offset(-63.5), mode=Mode.PRIVATE) as boss_extrude12_sk2:
        Polygon((25.4, 0), (25.4, 12.7), (26.9875, 12.7), (26.9875, 1.5875), (38.1, 1.5875), (38.1, 0), align=None)
    boss_extrude12_tool2 = split(extrude(boss_extrude12_sk2.sketch, amount=-BOSS_EXTRUDE12_REACH, mode=Mode.PRIVATE), bisect_by=boss_extrude12_end, keep=Keep.BOTH, mode=Mode.PRIVATE)
    add(boss_extrude12_tool1.solids().sort_by(Axis((63.5, 6.35, -25.579605), (1, 0, 0)))[0])
    add(boss_extrude12_tool2.solids().sort_by(Axis((63.5, 6.35, 25.579605), (1, 0, 0)))[0])

    # Sketch13 → Boss-Extrude15 (add)
    with BuildSketch(Plane(origin=(0, 0, -38.1), x_dir=(-1, 0, 0), z_dir=(0, 0, -1)).offset(BOSS_EXTRUDE15_START)):
        with BuildLine():
            Line((-127, 0), (-228.6, 0))
            Line((-228.6, 0), (-228.6, -12.7))
            Line((-228.6, -12.7), (-192.288023852, -55.23180333))
            ThreePointArc((-192.288023852, -55.23180333), (-177.8, -61.9125), (-163.311976148, -55.23180333))
            Line((-163.311976148, -55.23180333), (-127, -12.7))
            Line((-127, -12.7), (-127, 0))
        make_face()
        with Locations(Location((-177.8, -42.8625, 0), (0, 0, 180))):
            Circle(SKETCH13_R, mode=Mode.SUBTRACT)
    extrude(amount=BOSS_EXTRUDE15_DEPTH)

    # Sketch14 → Boss-Extrude16 (add)
    with BuildSketch(Plane.XY.offset(38.1)):
        with BuildLine():
            Line((228.6, -12.7), (228.6, 0))
            Line((228.6, 0), (127, 0))
            Line((127, 0), (127, -12.7))
            Line((127, -12.7), (163.311976148, -55.23180333))
            ThreePointArc((163.311976148, -55.23180333), (177.8, -61.9125), (192.288023852, -55.23180333))
            Line((192.288023852, -55.23180333), (228.6, -12.7))
        make_face()
        with Locations((177.8, -42.8625)):
            Circle(SKETCH14_R, mode=Mode.SUBTRACT)
    extrude(amount=-BOSS_EXTRUDE16_DEPTH)

    # Sketch15 → Boss-Extrude17 (add)
    with BuildSketch(Plane(origin=(0, 12.7, 0), x_dir=(1, 0, 0), z_dir=(0, 1, 0))):
        with Locations((-279.4, 305.59375)):
            Rectangle(SKETCH15_W, SKETCH15_H)
        with Locations((-279.4, -305.59375)):
            Rectangle(SKETCH15_W, SKETCH15_H)
    extrude(amount=-BOSS_EXTRUDE17_DEPTH)

    # Cut-Extrude1: up to this face of the body (flat: up to its plane)
    cut_extrude1_end = Plane(part_1.part.faces().sort_by_distance((0, 141.2875, 304.8))[0])
    # Sketch18 → Cut-Extrude1 (cut, up to the picked face)
    with BuildSketch(Plane(origin=(0, 0, -304.8), x_dir=(-1, 0, 0), z_dir=(0, 0, -1)), mode=Mode.PRIVATE) as cut_extrude1_sk1:
        with Locations((177.8, 141.2875)):
            Rectangle(SKETCH18_W, SKETCH18_H)
    cut_extrude1_tool1 = split(extrude(cut_extrude1_sk1.sketch, amount=-CUT_EXTRUDE1_REACH, mode=Mode.PRIVATE), bisect_by=cut_extrude1_end, keep=Keep.BOTH, mode=Mode.PRIVATE)
    add(cut_extrude1_tool1.solids().sort_by(Axis((-177.8, 141.2875, -304.8), (0, 0, 1)))[0], mode=Mode.SUBTRACT)

    # Sketch19 → Boss-Extrude21 (add)
    with BuildSketch(Plane.XY.offset(-303.2125)):
        Polygon((-25.4, 144.78), (-328.6125, 14.526382188), (-323.599797289, 2.8575), (-20.387297289, 133.111117812), align=None)
    boss_extrude21 = extrude(amount=BOSS_EXTRUDE21_DEPTH)

    # Sketch20 → Boss-Extrude23 (add)
    with BuildSketch(Plane(origin=(0, 0, -303.2125), x_dir=(-1, 0, 0), z_dir=(0, 0, -1))):
        Polygon((25.4, 144.78), (328.6125, 14.526382188), (327.985912161, 13.067771915), (24.773412161, 143.321389726), align=None)
    boss_extrude23 = extrude(amount=-BOSS_EXTRUDE23_DEPTH)

    # Mirror2: Boss-Extrude21, Boss-Extrude23 across plane
    add(boss_extrude21.mirror(Plane.XY))
    add(boss_extrude23.mirror(Plane.XY))


solid = part_1.part
